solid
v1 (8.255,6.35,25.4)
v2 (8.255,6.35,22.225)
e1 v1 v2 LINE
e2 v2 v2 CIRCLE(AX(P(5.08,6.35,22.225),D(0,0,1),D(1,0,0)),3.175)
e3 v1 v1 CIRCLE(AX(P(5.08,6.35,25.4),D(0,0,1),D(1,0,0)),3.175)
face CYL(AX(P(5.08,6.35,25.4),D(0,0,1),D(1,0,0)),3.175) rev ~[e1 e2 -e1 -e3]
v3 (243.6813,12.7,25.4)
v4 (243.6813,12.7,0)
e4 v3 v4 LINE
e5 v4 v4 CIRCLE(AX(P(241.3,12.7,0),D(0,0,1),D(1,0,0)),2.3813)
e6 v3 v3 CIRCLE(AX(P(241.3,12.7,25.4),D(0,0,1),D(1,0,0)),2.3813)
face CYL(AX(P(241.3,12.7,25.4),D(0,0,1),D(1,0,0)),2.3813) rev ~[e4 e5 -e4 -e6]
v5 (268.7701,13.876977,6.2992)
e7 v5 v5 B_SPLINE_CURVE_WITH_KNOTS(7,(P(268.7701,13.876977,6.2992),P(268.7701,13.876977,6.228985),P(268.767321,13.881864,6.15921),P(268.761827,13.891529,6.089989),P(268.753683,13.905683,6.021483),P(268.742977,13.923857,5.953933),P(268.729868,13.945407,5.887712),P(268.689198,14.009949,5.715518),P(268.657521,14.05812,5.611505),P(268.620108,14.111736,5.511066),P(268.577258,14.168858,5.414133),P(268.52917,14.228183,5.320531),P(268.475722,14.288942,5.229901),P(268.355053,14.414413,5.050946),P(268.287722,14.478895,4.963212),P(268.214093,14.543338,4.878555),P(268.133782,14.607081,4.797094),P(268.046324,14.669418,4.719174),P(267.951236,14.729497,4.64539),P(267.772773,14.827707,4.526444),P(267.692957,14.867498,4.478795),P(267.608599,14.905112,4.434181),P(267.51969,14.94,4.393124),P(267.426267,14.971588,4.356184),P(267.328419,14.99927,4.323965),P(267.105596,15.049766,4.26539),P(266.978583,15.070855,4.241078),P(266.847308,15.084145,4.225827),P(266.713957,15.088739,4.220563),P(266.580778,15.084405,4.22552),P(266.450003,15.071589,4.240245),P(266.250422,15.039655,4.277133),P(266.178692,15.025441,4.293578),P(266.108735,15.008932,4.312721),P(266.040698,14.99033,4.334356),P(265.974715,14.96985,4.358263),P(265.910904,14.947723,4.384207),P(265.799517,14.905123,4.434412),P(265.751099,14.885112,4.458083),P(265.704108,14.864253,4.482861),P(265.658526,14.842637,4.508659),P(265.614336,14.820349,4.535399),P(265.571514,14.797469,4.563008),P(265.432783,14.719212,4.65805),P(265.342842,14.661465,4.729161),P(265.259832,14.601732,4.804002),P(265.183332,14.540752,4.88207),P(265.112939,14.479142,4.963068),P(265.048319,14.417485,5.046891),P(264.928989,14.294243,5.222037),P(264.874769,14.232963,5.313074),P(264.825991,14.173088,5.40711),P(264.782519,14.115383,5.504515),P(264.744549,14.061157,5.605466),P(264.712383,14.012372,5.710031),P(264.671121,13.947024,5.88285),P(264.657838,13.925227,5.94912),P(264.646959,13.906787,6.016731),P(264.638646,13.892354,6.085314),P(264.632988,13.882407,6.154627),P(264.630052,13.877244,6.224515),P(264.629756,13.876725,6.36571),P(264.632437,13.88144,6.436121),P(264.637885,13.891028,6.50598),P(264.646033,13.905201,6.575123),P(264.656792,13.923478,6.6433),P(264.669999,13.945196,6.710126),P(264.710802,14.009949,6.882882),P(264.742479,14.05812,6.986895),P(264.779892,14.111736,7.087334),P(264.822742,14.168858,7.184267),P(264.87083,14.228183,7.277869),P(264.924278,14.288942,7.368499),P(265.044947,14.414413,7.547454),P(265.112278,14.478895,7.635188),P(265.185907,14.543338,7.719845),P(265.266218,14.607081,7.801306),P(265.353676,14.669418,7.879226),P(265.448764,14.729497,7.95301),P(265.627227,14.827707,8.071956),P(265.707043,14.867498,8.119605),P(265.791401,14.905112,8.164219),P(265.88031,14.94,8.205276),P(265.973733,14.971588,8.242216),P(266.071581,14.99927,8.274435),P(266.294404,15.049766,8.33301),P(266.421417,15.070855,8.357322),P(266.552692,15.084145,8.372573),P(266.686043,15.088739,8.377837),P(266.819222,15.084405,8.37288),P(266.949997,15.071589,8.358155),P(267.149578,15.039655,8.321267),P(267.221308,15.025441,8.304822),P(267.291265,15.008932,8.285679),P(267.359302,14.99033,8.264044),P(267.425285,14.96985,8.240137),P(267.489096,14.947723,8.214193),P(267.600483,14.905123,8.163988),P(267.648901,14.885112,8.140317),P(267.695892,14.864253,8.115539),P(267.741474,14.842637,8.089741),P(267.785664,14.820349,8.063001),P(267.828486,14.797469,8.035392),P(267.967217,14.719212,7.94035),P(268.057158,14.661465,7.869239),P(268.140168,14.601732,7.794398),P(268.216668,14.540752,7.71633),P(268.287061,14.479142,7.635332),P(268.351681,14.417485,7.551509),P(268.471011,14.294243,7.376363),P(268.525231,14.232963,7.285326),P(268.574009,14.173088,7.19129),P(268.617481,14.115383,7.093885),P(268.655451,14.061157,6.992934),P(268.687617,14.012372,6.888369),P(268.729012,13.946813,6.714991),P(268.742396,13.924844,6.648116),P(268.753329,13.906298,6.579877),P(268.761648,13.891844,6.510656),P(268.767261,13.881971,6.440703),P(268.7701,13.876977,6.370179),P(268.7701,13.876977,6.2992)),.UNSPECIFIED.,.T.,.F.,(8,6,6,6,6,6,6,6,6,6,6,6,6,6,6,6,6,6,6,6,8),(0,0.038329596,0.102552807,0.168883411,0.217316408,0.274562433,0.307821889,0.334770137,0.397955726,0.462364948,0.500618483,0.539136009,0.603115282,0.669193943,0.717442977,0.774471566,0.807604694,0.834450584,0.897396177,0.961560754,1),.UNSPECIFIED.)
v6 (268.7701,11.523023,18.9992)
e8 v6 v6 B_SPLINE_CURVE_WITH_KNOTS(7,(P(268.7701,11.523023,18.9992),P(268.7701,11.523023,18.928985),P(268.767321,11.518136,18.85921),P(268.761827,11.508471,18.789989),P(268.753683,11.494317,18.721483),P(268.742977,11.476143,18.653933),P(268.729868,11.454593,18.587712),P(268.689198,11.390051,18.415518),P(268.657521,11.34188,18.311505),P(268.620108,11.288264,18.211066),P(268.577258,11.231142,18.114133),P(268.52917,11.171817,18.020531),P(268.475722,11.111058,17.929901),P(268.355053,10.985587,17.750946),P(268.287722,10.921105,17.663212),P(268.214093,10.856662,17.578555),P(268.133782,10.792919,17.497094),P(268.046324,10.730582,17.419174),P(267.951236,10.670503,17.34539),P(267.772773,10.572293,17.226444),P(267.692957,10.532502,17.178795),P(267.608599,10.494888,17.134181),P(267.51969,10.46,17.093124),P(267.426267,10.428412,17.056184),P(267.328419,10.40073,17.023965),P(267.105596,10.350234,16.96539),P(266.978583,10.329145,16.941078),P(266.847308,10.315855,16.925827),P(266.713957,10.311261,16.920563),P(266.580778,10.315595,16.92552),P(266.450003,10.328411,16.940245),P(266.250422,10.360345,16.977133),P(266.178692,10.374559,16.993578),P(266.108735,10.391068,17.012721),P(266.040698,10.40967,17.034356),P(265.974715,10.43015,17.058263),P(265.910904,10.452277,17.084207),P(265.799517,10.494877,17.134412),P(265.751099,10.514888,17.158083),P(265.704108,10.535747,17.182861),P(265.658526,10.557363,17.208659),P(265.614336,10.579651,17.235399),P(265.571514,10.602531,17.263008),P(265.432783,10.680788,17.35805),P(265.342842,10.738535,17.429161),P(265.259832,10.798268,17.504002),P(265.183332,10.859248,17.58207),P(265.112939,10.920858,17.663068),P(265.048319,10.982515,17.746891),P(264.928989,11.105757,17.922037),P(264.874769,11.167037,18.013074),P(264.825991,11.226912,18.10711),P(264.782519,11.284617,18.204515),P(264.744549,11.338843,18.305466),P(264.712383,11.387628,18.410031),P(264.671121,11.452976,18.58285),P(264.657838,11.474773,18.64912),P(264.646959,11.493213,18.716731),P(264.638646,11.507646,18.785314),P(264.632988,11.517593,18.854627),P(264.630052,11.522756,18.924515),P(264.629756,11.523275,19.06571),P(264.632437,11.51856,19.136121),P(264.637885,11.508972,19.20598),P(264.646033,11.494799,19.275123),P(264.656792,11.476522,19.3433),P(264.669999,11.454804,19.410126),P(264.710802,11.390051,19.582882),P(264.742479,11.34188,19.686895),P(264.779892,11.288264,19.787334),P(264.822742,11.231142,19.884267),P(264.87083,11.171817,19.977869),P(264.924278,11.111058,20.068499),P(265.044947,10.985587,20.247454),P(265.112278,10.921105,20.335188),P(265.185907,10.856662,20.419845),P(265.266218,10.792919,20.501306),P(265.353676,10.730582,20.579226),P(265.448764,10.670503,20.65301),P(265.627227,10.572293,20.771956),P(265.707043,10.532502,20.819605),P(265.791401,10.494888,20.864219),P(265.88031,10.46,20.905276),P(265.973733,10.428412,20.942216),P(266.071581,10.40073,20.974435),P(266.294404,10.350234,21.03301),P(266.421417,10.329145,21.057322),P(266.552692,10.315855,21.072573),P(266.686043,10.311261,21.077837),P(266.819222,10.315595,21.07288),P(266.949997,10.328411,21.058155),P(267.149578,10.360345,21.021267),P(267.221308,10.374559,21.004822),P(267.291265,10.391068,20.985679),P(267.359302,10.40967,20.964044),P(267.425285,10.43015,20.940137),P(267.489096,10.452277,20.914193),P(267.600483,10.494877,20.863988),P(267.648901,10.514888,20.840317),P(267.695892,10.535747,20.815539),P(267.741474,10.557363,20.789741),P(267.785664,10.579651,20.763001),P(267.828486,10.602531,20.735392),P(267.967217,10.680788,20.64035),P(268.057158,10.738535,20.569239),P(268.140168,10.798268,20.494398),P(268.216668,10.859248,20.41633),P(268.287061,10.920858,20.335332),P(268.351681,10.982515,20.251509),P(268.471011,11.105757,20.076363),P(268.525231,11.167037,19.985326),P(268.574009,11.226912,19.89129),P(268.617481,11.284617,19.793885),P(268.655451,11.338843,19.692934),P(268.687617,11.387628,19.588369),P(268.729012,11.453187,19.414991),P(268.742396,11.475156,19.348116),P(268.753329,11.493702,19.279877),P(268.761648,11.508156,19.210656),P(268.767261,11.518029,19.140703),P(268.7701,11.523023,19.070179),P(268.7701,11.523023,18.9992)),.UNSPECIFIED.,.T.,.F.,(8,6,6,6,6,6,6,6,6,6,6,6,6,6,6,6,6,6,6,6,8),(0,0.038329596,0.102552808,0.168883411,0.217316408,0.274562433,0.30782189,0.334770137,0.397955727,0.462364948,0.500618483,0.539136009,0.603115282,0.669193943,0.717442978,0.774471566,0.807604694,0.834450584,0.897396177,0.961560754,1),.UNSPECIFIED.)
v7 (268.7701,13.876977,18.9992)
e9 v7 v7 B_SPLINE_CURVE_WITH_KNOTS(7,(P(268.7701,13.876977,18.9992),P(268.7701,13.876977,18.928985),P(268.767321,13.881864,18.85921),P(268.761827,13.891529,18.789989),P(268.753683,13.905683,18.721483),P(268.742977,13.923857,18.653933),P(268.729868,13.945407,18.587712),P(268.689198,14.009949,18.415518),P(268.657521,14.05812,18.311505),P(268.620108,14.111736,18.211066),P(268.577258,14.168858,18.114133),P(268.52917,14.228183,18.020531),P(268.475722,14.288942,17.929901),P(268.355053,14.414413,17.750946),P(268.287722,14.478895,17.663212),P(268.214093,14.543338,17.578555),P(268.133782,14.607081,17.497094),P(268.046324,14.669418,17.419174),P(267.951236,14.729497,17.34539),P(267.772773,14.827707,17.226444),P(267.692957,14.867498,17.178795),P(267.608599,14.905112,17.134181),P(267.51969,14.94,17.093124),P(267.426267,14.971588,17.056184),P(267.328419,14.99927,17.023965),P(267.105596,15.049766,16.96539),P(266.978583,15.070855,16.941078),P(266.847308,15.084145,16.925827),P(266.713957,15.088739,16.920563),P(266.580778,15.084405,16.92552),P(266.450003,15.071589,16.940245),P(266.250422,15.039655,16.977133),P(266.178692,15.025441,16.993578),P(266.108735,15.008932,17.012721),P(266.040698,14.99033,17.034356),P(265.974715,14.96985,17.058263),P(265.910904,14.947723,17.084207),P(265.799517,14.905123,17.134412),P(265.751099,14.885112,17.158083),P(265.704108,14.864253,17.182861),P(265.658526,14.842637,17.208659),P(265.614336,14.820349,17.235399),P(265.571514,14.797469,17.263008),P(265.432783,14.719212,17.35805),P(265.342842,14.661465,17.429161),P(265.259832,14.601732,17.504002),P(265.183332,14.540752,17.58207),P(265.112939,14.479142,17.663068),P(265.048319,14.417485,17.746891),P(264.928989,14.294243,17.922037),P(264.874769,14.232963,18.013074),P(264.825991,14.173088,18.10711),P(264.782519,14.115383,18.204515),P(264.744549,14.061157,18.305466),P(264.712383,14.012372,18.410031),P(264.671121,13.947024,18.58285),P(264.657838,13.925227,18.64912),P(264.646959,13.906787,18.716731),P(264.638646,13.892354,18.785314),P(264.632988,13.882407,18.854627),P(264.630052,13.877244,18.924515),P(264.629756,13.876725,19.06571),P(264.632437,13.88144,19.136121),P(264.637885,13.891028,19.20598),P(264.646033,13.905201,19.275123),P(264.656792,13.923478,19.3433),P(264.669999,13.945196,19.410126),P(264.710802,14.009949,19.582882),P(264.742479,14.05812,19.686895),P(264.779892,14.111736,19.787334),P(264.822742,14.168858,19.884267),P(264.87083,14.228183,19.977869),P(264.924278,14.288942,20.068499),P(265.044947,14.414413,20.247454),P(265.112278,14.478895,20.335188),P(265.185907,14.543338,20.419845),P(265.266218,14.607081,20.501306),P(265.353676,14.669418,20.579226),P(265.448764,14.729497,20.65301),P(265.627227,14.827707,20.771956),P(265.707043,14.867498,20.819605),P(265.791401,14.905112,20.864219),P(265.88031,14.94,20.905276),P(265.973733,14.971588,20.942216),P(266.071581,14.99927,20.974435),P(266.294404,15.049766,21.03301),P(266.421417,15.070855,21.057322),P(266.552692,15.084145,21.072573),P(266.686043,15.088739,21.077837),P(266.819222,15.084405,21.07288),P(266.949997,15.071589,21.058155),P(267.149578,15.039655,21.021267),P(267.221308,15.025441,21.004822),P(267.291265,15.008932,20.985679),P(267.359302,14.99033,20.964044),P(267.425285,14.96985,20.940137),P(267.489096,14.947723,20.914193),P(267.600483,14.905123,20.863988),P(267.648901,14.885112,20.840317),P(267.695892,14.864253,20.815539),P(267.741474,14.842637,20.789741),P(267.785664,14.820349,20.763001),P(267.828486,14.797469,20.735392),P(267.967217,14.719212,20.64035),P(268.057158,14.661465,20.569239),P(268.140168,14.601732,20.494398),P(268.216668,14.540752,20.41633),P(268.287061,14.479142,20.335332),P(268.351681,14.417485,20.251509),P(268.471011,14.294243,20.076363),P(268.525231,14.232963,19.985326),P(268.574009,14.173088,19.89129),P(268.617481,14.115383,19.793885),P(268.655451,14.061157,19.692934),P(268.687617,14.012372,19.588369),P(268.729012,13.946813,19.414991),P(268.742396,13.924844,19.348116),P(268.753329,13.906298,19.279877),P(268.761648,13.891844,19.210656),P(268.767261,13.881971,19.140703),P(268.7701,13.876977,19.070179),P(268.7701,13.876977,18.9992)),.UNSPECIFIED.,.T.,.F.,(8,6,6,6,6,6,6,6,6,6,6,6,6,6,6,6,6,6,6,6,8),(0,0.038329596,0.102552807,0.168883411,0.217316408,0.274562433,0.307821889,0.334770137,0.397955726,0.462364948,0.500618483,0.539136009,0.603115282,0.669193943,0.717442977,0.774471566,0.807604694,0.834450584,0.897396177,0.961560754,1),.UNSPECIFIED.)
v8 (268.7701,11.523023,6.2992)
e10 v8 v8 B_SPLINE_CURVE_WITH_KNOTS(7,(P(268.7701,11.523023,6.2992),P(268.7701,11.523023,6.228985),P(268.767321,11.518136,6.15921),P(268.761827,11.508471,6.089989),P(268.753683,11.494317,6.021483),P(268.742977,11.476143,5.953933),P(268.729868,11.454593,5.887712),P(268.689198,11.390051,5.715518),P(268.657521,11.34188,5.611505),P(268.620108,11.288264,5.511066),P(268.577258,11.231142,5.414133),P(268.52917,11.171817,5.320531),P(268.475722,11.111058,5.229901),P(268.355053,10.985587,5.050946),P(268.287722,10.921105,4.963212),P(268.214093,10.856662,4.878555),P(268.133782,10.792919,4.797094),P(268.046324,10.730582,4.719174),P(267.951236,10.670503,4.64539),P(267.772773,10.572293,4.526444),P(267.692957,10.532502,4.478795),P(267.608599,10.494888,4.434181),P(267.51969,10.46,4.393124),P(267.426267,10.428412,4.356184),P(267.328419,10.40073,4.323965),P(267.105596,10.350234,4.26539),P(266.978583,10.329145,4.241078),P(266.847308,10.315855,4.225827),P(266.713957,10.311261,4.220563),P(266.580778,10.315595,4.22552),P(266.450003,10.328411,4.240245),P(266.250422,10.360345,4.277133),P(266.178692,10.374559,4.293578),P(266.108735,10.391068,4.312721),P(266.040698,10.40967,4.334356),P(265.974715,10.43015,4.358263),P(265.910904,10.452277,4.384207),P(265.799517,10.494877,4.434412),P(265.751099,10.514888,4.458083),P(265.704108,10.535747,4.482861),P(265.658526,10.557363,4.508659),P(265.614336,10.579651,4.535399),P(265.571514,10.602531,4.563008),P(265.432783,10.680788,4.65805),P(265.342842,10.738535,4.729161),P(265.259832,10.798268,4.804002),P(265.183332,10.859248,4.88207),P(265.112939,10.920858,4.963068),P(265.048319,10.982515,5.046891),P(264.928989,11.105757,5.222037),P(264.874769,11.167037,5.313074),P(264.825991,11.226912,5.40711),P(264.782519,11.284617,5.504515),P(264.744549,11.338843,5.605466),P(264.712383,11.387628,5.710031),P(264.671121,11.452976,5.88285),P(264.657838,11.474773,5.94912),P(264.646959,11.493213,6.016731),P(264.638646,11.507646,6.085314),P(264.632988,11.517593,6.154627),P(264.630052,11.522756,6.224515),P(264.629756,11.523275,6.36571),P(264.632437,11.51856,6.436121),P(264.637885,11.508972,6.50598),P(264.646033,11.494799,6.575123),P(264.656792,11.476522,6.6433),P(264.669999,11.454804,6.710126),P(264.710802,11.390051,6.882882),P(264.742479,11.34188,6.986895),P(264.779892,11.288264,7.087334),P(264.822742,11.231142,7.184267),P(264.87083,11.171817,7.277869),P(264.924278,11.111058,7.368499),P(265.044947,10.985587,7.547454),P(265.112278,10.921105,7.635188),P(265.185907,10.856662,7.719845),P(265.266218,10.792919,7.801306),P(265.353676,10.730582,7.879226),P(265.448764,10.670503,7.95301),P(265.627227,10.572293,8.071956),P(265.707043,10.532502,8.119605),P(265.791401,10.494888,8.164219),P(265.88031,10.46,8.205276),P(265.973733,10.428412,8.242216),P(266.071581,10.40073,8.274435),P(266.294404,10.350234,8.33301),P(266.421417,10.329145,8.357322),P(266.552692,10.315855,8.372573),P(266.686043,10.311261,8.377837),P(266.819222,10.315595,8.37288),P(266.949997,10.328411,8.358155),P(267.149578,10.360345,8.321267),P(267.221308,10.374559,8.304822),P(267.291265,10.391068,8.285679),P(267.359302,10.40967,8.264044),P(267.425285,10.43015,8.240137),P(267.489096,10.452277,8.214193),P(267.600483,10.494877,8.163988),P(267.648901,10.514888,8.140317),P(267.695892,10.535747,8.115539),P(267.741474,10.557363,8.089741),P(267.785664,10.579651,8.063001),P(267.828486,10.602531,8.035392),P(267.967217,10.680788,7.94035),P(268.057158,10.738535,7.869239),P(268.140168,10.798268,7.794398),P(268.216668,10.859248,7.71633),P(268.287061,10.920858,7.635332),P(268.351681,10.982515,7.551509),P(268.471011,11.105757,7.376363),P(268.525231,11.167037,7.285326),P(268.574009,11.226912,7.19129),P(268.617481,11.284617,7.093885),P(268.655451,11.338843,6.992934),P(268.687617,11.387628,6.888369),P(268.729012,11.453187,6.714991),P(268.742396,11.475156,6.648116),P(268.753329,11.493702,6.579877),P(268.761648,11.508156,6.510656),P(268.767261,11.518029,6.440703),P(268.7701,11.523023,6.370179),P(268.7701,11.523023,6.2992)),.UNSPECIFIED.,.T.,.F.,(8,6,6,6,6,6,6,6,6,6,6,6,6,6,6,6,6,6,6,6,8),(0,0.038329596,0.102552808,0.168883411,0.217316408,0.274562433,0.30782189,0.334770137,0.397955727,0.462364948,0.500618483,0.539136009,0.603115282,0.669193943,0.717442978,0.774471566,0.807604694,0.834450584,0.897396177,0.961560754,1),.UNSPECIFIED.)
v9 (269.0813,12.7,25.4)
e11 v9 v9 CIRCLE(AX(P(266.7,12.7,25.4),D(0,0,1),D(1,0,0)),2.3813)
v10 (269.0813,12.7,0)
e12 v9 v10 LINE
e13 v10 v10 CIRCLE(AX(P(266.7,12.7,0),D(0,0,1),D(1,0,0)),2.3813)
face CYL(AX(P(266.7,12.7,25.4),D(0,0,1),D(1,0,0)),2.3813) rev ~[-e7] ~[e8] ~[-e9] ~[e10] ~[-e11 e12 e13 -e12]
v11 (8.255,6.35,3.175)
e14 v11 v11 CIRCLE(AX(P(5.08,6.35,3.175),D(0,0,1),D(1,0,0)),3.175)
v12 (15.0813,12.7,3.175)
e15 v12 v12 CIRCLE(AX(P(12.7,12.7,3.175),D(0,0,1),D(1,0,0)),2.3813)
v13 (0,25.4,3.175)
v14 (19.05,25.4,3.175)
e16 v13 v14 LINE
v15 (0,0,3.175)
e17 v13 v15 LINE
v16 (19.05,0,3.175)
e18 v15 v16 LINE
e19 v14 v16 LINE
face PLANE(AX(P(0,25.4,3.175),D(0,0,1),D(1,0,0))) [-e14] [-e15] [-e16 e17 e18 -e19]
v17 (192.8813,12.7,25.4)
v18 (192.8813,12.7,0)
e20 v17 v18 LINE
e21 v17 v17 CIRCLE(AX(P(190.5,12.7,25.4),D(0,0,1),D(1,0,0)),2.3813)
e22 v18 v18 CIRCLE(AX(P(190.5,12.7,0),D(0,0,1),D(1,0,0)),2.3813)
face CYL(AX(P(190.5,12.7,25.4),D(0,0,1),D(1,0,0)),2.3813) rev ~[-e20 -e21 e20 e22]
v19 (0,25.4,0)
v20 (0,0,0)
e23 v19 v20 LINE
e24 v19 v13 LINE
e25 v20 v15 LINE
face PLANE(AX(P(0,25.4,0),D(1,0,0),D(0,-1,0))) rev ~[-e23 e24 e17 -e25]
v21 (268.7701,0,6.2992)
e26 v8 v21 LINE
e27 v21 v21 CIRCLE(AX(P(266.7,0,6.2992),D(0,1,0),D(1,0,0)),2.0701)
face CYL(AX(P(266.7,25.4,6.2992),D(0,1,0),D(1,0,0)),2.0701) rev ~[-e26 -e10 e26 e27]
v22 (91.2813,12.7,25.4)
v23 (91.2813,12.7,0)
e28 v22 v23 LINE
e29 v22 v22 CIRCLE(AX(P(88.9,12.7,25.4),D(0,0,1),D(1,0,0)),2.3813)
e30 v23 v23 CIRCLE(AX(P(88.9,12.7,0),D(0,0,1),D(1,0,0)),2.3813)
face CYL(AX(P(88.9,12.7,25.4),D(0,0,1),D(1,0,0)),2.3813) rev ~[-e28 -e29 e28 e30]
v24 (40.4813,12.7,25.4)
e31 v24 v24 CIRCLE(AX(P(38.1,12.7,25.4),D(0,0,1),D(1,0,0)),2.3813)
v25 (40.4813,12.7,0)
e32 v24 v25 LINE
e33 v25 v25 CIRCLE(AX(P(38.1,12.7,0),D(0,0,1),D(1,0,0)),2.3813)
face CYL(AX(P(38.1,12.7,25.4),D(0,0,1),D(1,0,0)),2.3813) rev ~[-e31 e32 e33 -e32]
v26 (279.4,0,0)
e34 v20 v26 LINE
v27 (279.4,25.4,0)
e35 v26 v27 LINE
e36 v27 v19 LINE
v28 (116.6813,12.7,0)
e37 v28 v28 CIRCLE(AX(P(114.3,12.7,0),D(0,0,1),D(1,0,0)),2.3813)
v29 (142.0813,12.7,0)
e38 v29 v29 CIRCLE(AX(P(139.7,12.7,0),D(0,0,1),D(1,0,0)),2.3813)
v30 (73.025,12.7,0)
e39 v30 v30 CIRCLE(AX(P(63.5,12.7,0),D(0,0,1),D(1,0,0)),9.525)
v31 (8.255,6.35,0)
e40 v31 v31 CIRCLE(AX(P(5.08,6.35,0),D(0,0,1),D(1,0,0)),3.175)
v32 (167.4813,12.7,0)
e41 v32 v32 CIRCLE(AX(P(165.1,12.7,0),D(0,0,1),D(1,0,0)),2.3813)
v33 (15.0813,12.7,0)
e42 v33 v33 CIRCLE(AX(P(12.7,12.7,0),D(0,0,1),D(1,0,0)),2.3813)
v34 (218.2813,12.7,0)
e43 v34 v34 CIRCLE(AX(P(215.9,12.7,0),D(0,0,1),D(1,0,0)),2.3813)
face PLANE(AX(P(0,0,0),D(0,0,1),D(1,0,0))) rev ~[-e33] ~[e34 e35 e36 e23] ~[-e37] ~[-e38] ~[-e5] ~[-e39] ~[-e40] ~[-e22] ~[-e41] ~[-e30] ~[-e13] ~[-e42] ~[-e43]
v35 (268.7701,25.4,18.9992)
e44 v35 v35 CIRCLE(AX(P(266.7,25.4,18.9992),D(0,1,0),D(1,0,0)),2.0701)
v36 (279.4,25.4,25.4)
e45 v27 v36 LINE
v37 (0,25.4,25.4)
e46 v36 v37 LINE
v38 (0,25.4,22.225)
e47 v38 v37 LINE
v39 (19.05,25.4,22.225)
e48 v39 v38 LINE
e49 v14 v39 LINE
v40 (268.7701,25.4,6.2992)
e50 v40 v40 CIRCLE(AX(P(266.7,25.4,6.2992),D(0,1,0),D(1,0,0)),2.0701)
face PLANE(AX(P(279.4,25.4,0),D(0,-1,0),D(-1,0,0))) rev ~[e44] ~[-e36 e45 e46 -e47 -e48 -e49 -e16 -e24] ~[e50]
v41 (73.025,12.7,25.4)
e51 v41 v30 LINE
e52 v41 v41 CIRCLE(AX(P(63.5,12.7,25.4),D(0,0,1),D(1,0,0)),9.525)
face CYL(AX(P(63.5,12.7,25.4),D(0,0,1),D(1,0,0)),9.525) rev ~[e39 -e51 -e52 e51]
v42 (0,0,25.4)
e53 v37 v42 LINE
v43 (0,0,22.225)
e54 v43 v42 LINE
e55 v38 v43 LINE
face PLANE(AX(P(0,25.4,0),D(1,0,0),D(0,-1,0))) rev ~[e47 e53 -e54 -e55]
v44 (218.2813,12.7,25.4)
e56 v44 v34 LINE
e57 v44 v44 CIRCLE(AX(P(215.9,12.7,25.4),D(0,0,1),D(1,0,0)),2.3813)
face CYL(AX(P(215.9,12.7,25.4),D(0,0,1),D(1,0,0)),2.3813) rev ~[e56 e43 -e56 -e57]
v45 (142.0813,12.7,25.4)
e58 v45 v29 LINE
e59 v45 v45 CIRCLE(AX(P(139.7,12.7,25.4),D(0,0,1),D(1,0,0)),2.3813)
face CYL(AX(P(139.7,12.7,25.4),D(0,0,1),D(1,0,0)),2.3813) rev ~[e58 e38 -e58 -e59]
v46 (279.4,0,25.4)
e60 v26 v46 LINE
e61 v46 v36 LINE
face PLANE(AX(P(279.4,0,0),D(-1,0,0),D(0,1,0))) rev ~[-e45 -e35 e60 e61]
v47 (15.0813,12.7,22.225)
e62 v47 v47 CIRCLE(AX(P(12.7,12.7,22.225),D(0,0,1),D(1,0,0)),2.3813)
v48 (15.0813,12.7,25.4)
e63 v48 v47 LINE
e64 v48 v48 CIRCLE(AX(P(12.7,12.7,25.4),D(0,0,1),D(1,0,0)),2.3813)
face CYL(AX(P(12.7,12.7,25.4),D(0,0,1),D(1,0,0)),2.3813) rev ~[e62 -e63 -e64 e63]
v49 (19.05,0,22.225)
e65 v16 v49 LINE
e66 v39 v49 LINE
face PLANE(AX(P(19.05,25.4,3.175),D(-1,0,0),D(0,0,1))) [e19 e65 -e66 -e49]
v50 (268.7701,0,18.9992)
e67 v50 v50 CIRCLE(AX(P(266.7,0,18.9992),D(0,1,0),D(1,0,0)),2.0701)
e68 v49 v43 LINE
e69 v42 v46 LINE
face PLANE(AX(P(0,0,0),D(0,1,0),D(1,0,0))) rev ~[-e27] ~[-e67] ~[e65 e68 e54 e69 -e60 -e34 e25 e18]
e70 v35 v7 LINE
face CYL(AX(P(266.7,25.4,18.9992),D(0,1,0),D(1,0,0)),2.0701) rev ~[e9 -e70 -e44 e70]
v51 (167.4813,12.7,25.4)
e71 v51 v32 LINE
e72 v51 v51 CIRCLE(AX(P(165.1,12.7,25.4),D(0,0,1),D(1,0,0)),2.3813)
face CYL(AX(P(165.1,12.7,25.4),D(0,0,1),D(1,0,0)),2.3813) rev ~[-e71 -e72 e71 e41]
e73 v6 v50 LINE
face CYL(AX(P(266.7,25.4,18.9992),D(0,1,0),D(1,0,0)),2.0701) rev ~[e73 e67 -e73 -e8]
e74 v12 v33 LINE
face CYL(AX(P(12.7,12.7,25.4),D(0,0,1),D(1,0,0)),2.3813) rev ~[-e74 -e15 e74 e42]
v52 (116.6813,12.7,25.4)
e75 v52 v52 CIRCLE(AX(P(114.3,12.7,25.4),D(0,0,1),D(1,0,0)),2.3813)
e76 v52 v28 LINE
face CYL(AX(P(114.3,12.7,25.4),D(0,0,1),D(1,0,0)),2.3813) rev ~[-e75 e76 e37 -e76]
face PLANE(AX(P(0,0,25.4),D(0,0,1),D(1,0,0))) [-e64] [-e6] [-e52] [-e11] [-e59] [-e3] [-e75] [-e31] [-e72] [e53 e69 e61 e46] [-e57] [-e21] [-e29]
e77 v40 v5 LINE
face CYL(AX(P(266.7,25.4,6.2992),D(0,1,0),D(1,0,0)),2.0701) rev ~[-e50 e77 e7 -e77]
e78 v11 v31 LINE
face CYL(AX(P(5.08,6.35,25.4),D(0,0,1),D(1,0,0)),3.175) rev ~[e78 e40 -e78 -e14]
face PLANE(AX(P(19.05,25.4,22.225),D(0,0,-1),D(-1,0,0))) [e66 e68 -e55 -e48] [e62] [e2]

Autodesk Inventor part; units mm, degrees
ref_plane "YZ Plane" through (0, 0, 0) normal (1, 0, 0) x (0, 1, 0)
ref_plane "XZ Plane" through (0, 0, 0) normal (0, 1, 0) x (-1, 0, 0)
ref_plane "XY Plane" through (0, 0, 0) normal (0, 0, 1) x (1, 0, 0)
sketch "Sketch1" plane through (0, 0, 0) normal (0, 0, 1) x (1, 0, 0)
  line L0 (0, 0) -> (279.4, 0)
  line L1 (279.4, 0) -> (279.4, 25.4)
  line L2 (279.4, 25.4) -> (0, 25.4)
  line L3 (0, 25.4) -> (0, 0)
  dimension "d0" = 279.4
  dimension "d1" = 25.4
extrude "Extrusion1" add sketch "Sketch1" along normal blind 25.4
sketch "Sketch4" plane through (0, 0, 25.4) normal (0, 0, 1) x (1, 0, 0)
  circle A0 centre (12.7, 12.7) radius 2.3813
  line L0 (0, 0) -> (279.4, 0) projected
  line L1 (0, 25.4) -> (0, 0) projected
  circle A1 centre (38.1, 12.7) radius 2.3813
  circle A2 centre (63.5, 12.7) radius 2.3813
  circle A3 centre (88.9, 12.7) radius 2.3813
  circle A4 centre (114.3, 12.7) radius 2.3813
  circle A5 centre (139.7, 12.7) radius 2.3813
  circle A6 centre (165.1, 12.7) radius 2.3813
  circle A7 centre (190.5, 12.7) radius 2.3813
  circle A8 centre (215.9, 12.7) radius 2.3813
  circle A9 centre (241.3, 12.7) radius 2.3813
  circle A10 centre (266.7, 12.7) radius 2.3813
  circle A11 centre (292.1, 12.7) radius 2.3813
  circle A12 centre (317.5, 12.7) radius 2.3813
  circle A13 centre (63.5, 12.7) radius 9.525
  circle A14 centre (5.08, 6.35) radius 3.175
  dimension "d17" = 4.7625
  dimension "d18" = 12.7
  dimension "d19" = 12.7
  dimension "d22" = 25.4
  dimension "d37" = 19.05
  dimension "d46" = 6.35
  dimension "d48" = 6.35
  dimension "d49" = 58.42
extrude "Extrusion4" cut sketch "Sketch4" against normal blind 25.4 contours A0 | A1 | A2 | A3 | A4 | A5 | A6 | A7 | A8 | A9 | A10 | A11 | A12 | A13 | A14
sketch "Sketch6" plane through (0, 25.4, 0) normal (0, 1, 0) x (1, 0, 0)
  line L0 (19.05, -22.225) -> (0, -22.225)
  line L1 (0, -22.225) -> (0, -3.175)
  line L2 (0, -3.175) -> (19.05, -3.175)
  line L3 (19.05, -3.175) -> (19.05, -22.225)
  line L4 (279.4, 0) -> (279.4, -25.4) projected
  line L5 (279.4, -25.4) -> (0, -25.4) projected
  line L6 (279.4, 0) -> (0, 0) projected
  line L7 (0, 0) -> (0, -25.4) projected
  dimension "d38" = 19.05
  dimension "d41" = 3.175
  dimension "d42" = 3.175
  dimension "d45" = 0
extrude "Extrusion6" cut sketch "Sketch6" against normal blind 25.4 contours L0 L1 L2 L3
sketch "Sketch7" plane through (0, 25.4, 0) normal (0, 1, 0) x (1, 0, 0)
  circle A0 centre (266.7, -18.9992) radius 2.0701
  circle A1 centre (266.7, -6.2992) radius 2.0701
  line L0 (279.4, 0) -> (279.4, -25.4) projected
  line L1 (279.4, 0) -> (0, 0) projected
  line L2 (279.4, -25.4) -> (0, -25.4) projected
  dimension "d50" = 4.1402
  dimension "d51" = 4.1402
  dimension "d52" = 12.7
  dimension "d53" = 12.7
  dimension "d54" = 12.7
  dimension "d58" = 6.4008
extrude "Extrusion7" cut sketch "Sketch7" against normal blind 25.4
equation "\"d42\" = d41"
equation "\"d51\" = d50"
equation "\"d53\" = d54"
properties part number "RobotArm Arm"
